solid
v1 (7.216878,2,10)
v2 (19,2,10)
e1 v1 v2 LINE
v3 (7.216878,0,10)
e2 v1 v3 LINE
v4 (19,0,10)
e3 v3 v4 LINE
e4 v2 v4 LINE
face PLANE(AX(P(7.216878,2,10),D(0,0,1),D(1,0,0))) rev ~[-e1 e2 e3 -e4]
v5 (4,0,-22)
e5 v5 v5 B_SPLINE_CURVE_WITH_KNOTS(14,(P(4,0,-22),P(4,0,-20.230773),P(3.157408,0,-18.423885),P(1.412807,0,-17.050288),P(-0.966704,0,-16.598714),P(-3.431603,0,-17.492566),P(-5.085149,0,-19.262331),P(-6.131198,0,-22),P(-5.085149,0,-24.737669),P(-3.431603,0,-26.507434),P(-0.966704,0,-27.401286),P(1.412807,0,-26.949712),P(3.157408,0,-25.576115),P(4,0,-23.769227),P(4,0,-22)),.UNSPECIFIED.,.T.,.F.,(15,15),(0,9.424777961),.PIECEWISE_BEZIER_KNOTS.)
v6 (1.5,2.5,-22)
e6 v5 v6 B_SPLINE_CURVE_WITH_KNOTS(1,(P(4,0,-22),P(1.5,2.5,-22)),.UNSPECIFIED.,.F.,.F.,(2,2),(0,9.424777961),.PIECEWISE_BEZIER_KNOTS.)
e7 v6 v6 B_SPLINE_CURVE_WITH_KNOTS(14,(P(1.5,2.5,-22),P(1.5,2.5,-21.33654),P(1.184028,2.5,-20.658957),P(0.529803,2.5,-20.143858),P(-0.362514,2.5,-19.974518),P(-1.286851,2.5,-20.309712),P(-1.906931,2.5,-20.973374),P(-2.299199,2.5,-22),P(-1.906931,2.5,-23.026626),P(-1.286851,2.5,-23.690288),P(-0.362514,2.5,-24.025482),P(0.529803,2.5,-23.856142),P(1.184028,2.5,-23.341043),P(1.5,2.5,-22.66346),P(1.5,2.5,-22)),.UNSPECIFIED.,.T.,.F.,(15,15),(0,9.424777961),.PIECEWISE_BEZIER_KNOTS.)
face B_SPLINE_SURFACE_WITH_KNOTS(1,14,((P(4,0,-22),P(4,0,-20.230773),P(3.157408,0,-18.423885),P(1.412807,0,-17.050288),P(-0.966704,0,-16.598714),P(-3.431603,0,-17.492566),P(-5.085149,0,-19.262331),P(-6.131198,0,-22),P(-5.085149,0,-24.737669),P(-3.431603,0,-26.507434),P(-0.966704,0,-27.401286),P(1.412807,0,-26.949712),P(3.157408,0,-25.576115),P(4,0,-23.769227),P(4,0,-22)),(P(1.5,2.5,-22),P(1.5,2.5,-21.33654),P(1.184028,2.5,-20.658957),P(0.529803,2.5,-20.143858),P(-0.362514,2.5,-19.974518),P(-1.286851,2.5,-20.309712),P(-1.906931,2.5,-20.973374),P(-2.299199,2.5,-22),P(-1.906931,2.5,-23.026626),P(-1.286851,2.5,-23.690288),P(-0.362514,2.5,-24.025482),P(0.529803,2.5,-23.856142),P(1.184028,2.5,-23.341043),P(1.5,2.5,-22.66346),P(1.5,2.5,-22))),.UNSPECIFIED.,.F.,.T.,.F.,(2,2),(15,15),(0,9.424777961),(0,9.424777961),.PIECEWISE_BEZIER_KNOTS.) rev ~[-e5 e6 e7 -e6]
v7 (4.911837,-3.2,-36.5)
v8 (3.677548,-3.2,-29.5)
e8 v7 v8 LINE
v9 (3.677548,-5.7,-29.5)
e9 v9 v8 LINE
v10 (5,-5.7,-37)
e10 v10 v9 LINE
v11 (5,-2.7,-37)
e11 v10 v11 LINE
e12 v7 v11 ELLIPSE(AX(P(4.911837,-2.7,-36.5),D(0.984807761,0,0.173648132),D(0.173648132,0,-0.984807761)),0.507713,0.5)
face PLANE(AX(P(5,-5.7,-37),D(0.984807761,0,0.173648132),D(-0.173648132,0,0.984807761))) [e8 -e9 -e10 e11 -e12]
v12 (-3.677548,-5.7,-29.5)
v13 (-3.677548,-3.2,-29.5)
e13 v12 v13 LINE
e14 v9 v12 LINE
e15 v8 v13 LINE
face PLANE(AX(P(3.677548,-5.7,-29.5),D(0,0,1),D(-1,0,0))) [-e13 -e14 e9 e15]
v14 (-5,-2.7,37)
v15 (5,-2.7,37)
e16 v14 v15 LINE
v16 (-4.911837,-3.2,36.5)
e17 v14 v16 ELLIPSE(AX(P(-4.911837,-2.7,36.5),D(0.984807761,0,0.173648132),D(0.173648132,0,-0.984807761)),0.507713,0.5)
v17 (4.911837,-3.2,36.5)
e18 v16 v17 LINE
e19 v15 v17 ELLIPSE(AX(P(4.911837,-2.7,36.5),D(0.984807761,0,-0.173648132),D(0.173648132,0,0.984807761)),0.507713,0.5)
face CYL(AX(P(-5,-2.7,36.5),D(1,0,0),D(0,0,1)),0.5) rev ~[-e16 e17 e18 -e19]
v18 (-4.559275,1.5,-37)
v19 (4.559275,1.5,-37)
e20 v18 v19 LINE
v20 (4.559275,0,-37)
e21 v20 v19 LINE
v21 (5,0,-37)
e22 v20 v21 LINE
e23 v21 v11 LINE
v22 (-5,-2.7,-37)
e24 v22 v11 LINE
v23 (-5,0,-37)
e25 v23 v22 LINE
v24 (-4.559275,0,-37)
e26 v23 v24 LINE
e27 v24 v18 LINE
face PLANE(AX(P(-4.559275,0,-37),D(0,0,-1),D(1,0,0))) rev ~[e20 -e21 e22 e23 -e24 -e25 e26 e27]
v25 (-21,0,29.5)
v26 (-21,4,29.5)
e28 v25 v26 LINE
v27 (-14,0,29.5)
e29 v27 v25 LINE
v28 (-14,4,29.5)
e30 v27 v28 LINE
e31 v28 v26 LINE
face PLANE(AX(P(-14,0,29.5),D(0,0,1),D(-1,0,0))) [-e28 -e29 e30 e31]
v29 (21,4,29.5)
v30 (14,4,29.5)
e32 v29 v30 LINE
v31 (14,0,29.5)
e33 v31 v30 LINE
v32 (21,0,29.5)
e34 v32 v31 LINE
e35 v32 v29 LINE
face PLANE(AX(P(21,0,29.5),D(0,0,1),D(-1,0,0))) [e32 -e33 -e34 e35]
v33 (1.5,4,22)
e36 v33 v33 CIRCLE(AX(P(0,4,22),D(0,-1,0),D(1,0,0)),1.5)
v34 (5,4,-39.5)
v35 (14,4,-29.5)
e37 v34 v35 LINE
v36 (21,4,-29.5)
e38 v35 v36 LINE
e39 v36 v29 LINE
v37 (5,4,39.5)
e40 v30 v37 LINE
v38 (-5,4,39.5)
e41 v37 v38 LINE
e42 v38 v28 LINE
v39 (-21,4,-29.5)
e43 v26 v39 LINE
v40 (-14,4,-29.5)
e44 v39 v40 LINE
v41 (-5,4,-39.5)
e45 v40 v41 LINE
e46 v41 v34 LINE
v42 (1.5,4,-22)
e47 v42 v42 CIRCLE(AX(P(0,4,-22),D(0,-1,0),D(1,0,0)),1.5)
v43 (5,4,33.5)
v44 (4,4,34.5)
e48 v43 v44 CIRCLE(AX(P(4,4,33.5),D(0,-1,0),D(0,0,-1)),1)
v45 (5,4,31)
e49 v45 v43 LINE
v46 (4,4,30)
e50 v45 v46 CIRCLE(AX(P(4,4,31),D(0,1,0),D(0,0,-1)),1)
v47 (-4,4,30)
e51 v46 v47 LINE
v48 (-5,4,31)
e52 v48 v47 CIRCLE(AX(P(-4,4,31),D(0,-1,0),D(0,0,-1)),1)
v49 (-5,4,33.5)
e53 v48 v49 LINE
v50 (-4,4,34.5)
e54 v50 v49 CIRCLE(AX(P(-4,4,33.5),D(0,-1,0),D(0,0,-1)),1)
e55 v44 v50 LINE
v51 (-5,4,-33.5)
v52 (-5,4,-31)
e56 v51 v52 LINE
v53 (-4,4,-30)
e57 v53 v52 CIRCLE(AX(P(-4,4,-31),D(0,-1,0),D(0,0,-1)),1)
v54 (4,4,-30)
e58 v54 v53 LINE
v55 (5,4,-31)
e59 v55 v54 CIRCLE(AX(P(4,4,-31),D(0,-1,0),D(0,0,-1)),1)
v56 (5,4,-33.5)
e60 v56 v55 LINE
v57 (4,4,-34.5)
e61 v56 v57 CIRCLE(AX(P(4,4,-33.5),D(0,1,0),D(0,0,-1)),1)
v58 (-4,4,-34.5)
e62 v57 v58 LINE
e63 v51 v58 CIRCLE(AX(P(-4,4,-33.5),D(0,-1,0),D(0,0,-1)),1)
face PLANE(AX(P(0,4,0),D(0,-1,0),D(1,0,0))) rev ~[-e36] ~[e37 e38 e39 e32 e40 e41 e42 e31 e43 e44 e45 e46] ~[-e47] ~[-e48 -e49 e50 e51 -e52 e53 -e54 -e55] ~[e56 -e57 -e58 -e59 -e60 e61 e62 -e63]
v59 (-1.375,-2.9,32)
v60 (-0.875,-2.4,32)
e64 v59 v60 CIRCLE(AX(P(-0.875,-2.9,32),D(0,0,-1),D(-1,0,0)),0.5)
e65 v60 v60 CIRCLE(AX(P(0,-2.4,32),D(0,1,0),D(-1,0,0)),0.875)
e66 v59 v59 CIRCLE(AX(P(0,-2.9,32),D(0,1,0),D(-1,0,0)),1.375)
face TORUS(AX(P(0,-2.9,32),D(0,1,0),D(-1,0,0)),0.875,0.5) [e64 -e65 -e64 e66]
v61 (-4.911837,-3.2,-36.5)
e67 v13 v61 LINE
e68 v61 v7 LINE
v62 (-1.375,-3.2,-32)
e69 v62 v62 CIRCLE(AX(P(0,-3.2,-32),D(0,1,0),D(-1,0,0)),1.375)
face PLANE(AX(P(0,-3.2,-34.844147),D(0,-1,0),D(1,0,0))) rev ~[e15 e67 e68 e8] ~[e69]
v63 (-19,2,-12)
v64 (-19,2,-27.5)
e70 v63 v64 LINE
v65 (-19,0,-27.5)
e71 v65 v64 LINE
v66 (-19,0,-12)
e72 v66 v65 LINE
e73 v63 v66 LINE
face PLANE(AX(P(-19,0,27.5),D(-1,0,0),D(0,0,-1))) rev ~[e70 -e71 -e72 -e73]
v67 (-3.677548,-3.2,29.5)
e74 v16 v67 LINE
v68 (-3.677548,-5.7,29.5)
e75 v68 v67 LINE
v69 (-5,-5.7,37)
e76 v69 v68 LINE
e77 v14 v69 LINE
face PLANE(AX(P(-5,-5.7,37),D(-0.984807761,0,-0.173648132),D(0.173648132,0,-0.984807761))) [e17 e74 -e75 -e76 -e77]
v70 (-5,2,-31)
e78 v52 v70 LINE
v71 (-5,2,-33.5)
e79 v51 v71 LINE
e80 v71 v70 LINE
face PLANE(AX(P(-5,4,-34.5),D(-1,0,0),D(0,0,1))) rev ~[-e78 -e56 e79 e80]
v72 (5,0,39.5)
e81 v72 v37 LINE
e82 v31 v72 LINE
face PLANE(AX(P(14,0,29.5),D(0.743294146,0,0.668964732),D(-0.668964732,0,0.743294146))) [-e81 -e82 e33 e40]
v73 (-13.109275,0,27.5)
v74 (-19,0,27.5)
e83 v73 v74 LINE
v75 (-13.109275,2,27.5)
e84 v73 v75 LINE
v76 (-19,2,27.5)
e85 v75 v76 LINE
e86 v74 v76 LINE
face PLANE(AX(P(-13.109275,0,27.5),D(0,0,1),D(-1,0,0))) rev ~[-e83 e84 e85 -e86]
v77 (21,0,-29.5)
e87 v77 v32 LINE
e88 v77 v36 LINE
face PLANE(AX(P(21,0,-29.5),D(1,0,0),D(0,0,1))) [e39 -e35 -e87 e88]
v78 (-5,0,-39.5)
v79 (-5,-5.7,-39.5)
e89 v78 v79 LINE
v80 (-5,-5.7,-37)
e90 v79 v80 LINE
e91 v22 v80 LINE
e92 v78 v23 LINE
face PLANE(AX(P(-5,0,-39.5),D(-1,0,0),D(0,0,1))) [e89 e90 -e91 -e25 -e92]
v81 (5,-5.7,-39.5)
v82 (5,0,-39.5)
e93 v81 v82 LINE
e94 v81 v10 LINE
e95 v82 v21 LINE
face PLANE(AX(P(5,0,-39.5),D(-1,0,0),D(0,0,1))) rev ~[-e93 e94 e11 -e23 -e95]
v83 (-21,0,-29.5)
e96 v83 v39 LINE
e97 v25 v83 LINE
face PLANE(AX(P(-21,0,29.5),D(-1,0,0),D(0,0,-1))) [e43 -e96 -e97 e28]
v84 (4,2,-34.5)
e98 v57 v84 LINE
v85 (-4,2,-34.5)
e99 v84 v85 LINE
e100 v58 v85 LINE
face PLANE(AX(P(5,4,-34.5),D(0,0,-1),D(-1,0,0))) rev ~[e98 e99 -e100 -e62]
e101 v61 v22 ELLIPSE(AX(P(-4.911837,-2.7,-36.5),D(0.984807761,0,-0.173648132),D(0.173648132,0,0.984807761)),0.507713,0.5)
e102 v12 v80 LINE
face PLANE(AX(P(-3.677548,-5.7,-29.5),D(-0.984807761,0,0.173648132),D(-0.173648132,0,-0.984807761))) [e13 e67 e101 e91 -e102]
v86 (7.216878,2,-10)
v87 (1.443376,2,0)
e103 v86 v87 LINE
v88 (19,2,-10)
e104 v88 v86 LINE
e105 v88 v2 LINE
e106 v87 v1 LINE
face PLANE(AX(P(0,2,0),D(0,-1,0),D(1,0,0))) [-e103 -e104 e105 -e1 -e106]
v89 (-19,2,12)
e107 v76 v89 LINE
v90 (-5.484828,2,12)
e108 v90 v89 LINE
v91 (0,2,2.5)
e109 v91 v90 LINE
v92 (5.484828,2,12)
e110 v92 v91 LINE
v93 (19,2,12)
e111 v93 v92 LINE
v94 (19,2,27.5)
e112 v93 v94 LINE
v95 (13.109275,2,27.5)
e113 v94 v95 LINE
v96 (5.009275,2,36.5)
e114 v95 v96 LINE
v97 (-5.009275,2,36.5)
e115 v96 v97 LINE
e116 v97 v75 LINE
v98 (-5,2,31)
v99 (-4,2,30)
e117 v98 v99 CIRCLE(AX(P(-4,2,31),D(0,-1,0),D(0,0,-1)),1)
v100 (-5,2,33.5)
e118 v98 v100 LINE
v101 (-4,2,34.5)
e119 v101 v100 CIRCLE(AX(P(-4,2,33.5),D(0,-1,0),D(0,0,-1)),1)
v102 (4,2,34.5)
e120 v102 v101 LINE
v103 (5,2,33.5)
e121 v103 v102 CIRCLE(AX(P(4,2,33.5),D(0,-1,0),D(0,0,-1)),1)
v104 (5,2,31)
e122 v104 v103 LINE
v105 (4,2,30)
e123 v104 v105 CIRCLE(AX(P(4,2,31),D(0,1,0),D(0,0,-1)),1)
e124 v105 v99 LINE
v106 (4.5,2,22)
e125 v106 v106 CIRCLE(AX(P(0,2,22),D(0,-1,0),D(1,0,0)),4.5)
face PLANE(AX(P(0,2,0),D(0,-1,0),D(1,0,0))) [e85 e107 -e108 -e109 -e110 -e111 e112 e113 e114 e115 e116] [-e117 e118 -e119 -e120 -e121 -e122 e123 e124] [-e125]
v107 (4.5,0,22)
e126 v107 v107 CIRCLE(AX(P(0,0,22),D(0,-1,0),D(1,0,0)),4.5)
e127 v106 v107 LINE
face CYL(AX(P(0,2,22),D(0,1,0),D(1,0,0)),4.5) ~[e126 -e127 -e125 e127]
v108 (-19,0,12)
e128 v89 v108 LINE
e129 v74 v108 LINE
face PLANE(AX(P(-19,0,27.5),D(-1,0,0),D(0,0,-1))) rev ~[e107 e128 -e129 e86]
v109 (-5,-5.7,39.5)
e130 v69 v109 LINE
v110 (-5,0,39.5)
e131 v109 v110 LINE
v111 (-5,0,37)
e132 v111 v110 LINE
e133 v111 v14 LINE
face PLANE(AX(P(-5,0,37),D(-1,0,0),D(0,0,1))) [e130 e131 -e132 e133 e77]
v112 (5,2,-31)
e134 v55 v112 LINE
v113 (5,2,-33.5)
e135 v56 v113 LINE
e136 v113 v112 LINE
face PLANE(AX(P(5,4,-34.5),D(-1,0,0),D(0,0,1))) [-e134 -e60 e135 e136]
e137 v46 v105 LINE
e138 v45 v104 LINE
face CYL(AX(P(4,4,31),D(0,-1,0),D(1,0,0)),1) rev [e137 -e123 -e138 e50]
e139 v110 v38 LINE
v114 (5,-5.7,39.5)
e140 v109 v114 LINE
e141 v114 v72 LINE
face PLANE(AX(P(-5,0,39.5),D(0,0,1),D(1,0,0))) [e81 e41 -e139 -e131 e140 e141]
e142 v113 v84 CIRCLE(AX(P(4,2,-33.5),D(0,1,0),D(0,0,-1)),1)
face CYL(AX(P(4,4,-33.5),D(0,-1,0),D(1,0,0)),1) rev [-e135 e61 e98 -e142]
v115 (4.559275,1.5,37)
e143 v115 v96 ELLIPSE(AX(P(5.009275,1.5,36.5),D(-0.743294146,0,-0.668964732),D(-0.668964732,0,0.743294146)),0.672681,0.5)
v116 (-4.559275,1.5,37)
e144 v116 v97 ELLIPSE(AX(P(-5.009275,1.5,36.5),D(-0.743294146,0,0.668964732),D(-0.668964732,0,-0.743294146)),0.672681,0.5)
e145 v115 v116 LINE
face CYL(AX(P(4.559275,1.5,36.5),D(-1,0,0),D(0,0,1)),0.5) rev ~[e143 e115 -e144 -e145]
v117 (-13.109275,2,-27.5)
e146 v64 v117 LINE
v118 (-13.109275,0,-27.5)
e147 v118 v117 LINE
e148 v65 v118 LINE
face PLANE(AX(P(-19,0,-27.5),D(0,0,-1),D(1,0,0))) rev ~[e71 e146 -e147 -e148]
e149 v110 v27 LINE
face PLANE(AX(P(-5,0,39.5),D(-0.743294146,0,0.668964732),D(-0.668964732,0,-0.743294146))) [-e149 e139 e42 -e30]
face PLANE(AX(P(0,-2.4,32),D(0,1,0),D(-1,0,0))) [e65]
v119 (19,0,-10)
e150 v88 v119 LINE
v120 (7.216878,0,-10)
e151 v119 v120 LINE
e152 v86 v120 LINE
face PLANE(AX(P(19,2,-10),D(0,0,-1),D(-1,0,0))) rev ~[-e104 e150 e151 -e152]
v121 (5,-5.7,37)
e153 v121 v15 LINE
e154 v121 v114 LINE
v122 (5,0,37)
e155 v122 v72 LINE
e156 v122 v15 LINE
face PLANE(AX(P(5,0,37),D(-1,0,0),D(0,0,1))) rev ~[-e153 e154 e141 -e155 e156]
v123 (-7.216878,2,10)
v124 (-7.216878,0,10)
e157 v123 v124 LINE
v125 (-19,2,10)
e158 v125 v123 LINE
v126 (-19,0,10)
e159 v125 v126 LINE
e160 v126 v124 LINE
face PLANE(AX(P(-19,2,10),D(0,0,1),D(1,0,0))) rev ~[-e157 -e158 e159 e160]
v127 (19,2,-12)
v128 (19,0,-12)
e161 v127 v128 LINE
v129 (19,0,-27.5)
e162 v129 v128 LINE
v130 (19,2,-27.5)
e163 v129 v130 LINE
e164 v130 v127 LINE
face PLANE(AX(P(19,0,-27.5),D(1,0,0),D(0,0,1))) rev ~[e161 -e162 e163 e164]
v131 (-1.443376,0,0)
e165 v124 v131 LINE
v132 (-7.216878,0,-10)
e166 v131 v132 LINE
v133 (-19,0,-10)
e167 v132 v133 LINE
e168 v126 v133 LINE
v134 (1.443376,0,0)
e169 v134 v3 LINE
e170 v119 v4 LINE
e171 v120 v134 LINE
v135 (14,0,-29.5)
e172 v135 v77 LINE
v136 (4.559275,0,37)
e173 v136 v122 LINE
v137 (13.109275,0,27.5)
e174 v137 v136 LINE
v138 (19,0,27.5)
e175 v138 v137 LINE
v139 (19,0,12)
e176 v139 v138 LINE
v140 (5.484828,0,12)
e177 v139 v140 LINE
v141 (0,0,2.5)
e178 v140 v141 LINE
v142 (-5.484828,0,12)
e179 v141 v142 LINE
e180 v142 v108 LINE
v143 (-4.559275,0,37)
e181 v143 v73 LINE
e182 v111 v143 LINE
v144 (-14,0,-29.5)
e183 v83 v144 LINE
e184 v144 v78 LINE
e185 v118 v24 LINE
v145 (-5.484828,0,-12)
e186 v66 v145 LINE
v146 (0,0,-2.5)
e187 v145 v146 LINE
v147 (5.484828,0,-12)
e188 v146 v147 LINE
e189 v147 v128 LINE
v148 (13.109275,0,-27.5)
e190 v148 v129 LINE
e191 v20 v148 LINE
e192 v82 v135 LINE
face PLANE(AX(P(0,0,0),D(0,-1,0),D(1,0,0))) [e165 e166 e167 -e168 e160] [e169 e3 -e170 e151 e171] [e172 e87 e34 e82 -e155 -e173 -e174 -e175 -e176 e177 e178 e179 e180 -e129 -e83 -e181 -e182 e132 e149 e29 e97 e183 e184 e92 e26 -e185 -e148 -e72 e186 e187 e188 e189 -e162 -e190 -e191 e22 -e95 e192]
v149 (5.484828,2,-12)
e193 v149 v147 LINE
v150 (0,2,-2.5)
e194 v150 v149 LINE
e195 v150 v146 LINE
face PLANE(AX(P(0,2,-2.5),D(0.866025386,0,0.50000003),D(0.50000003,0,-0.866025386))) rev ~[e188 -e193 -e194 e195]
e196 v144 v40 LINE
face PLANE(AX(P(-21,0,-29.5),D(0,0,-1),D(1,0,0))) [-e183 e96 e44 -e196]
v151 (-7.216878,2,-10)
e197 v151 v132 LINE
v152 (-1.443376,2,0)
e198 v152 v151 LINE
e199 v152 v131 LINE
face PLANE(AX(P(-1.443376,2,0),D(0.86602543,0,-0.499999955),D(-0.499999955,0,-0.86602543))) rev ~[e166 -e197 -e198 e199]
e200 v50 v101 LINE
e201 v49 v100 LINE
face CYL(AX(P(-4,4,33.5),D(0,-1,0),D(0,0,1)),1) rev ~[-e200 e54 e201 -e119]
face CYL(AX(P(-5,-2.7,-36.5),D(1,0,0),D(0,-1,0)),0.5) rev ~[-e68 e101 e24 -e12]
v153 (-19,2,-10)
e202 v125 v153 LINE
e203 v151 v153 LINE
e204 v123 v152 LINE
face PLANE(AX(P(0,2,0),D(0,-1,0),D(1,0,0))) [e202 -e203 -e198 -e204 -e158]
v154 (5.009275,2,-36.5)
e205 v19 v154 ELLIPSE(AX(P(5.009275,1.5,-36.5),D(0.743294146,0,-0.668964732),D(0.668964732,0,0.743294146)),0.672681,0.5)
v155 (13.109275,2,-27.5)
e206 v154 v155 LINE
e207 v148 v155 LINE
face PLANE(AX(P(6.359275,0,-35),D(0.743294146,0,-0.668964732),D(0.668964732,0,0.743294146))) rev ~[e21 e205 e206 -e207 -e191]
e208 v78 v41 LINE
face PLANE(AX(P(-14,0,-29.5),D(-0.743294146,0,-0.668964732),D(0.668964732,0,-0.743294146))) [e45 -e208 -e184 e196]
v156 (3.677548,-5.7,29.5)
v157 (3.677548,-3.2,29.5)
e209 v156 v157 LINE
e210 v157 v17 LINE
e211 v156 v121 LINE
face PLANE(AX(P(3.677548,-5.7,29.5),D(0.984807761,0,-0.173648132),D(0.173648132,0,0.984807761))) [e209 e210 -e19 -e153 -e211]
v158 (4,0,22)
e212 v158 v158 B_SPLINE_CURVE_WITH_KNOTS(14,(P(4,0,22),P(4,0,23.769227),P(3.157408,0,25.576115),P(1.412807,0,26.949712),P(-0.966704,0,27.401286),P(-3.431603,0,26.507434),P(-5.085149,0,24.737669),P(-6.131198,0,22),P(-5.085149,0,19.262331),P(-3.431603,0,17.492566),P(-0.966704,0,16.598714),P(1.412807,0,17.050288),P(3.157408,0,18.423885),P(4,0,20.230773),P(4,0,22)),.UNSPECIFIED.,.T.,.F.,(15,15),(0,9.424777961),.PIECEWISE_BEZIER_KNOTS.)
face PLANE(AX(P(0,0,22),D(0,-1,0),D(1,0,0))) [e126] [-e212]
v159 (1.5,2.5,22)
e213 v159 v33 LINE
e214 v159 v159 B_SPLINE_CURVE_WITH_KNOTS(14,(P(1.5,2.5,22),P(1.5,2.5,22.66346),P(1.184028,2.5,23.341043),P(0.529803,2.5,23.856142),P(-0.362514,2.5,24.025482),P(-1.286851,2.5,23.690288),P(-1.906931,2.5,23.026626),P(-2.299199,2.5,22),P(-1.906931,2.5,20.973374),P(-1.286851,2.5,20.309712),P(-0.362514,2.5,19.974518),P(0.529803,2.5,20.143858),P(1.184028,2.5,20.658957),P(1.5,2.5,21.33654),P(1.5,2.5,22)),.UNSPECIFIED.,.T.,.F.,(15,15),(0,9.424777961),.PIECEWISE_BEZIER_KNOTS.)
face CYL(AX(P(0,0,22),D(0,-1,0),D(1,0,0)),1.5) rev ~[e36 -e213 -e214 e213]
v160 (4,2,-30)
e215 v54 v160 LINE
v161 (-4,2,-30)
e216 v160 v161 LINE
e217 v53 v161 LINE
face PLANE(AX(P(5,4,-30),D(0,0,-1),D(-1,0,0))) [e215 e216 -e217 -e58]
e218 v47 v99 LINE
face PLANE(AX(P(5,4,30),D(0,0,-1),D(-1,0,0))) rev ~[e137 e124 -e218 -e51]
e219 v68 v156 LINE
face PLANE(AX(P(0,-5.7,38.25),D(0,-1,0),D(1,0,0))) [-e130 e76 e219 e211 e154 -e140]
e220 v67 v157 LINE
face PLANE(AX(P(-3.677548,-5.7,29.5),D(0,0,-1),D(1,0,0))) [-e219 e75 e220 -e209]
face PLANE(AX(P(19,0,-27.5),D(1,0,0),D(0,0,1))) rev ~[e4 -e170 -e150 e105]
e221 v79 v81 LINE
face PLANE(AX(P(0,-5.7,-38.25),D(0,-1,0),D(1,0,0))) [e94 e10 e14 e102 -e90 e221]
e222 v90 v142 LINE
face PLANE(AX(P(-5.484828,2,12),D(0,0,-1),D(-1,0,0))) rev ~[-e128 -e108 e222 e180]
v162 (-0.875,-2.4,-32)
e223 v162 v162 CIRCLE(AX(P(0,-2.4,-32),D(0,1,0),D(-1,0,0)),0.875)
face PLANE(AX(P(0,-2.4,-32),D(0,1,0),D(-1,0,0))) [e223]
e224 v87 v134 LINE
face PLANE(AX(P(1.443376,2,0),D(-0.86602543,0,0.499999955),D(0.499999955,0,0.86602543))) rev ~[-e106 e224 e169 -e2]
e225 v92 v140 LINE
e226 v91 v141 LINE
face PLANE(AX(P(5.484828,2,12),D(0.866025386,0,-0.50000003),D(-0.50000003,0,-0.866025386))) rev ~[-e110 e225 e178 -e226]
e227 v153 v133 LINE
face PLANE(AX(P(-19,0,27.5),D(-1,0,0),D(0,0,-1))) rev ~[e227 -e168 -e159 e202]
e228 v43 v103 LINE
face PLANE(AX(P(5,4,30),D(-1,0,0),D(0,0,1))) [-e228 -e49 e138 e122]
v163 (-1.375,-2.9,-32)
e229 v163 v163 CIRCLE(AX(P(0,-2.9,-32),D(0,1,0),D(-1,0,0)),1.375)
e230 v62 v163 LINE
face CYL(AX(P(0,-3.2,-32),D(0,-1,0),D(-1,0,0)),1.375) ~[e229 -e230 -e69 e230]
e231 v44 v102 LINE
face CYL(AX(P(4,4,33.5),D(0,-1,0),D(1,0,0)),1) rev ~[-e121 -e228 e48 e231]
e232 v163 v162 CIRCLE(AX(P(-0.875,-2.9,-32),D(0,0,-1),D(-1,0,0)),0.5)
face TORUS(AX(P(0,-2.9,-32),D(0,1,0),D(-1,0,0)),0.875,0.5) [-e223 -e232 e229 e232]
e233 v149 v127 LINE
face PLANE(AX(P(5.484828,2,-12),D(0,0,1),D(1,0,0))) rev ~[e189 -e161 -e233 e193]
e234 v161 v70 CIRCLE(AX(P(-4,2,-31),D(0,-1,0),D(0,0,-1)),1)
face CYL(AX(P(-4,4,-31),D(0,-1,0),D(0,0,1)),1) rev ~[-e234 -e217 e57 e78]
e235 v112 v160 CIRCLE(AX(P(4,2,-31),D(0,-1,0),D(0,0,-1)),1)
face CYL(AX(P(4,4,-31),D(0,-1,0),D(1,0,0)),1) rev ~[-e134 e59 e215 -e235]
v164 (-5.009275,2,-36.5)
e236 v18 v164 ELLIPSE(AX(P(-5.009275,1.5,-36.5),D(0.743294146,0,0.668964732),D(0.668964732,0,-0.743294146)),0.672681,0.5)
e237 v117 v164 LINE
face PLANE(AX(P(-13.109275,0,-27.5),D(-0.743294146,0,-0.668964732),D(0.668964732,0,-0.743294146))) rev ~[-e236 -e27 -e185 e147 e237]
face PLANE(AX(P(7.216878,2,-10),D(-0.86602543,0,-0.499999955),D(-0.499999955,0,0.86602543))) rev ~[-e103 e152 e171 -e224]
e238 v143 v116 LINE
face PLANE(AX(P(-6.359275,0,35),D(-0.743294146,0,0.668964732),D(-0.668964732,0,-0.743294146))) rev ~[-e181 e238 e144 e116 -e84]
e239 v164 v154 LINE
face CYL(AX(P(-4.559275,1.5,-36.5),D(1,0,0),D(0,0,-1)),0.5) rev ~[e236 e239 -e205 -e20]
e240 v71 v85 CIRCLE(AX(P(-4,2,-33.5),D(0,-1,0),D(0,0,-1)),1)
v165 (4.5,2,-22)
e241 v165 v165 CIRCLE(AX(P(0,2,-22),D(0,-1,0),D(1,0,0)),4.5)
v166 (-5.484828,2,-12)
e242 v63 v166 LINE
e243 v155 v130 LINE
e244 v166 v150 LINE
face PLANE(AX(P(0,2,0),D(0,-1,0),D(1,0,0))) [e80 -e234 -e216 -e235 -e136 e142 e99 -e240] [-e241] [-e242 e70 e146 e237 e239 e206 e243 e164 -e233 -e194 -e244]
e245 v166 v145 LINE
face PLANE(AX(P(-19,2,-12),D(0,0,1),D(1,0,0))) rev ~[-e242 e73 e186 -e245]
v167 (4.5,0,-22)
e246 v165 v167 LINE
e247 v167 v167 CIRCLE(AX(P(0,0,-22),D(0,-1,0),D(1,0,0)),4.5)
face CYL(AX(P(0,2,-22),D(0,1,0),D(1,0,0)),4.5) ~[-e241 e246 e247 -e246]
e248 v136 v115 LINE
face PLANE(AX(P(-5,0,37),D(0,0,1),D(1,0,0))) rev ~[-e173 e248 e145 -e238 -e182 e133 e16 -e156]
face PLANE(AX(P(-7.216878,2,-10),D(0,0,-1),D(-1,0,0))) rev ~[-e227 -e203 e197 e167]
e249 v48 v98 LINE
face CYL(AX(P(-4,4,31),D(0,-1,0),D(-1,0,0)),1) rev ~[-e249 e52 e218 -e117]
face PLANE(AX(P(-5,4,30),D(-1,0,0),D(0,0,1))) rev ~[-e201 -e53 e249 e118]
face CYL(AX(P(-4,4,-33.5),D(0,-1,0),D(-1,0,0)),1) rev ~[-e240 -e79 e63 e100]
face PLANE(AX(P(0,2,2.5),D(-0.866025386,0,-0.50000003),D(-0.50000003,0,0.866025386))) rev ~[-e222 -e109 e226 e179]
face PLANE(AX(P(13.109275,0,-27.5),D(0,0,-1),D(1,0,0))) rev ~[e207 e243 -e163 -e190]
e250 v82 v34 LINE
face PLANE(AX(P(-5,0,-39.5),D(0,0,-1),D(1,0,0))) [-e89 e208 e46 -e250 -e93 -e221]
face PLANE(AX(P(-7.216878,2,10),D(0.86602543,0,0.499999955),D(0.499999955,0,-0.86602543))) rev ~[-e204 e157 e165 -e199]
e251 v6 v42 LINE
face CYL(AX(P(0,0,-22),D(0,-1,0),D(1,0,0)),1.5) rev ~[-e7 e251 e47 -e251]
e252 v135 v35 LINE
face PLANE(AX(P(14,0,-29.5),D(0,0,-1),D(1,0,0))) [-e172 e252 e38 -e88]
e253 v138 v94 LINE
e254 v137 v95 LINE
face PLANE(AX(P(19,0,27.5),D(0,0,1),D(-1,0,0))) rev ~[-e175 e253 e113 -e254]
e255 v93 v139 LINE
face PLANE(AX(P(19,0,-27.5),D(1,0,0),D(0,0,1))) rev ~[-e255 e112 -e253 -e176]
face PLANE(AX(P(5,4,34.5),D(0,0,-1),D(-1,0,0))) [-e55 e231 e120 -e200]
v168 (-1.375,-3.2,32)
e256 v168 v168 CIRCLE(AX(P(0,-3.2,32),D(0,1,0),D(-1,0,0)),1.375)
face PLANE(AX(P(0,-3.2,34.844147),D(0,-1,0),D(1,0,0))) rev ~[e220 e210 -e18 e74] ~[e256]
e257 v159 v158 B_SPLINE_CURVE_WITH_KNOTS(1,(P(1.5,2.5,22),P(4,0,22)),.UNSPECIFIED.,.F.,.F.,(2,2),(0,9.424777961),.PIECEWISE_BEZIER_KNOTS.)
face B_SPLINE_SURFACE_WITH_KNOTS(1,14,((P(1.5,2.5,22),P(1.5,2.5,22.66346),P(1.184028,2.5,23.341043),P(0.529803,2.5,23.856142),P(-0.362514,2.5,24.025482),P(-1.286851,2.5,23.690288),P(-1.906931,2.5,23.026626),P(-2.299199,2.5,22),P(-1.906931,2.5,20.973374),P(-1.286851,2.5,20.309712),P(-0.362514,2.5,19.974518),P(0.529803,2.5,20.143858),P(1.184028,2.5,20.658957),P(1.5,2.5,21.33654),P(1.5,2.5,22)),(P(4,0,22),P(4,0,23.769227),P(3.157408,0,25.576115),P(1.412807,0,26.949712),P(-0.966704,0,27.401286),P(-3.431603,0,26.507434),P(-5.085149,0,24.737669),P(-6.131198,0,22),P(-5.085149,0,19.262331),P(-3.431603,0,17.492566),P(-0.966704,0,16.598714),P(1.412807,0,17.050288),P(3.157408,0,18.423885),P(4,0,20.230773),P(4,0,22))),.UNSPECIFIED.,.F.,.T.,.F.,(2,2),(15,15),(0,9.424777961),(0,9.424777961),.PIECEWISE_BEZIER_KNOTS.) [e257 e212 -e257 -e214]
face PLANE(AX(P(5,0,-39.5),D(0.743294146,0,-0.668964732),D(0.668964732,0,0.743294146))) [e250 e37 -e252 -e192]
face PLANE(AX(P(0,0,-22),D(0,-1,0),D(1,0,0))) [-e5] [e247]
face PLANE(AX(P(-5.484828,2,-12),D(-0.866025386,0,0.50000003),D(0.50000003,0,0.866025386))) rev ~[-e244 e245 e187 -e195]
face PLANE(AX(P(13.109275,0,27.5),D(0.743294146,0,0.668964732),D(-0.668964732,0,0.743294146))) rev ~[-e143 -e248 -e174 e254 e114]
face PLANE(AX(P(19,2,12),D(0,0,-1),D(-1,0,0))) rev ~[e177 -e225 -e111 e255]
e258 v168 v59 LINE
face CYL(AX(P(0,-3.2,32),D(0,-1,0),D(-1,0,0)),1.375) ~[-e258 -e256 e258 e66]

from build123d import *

# Parameters (mm, degrees)
F1_DEPTH  = 4
F2_W      = 10
F2_H      = 2.5
F3_DEPTH  = 5.7
F5_DEPTH  = 2.5
F6_R      = 1.5
F7_DEPTH  = 4
F9_DEPTH  = 2
F10_R     = 4.5
F10_R_2   = 1.5
F11_DEPTH = 2
F13_DEPTH = 2
F15_DEPTH = 2
F16_R     = 1.375
F17_DEPTH = 0.8
F18_SIZE  = 2.5
F19_W     = 10
F19_H     = 4.5
F20_DEPTH = 2
F21_R     = 1
F22_R     = 0.5
F23_R     = 0.5


with BuildPart() as f1:
    # F0 (on Front) → F1 (new body)
    with BuildSketch(Plane.XZ):
        Polygon((-14, 29.5), (-21, 29.5), (-21, -29.5), (-14, -29.5), (-5, -39.5), (5, -39.5), (14, -29.5), (21, -29.5), (21, 29.5), (14, 29.5), (5, 39.5), (-5, 39.5), align=None)
    extrude(amount=-F1_DEPTH)

    # F2 (on face) → F3 (join)
    with BuildSketch(Plane.XZ):
        with Locations((0, 38.25)):
            Rectangle(F2_W, F2_H)
        with Locations((0, -38.25)):
            Rectangle(F2_W, F2_H)
    extrude(amount=F3_DEPTH)

    # F4 (on face) → F5 (join)
    with BuildSketch(Plane.XZ.offset(5.7)):
        Polygon((5, 39.5), (-5, 39.5), (-5, 37), (-3.677548, 29.5), (3.677548, 29.5), (5, 37), align=None)
        Polygon((3.677548, -29.5), (-3.677548, -29.5), (-5, -37), (-5, -39.5), (5, -39.5), (5, -37), align=None)
    extrude(amount=-F5_DEPTH)

    # F6 (on face) → F7 (cut, through all)
    with BuildSketch(Plane.XZ):
        with Locations((0, 22)):
            Circle(F6_R)
        with Locations((0, -22)):
            Circle(F6_R)
    extrude(amount=-F7_DEPTH, mode=Mode.SUBTRACT)

    # F8 (on face) → F9 (cut)
    with BuildSketch(Plane.XZ):
        Polygon((-19, -27.5), (-13.109275, -27.5), (-6.359275, -35), (6.359275, -35), (13.109275, -27.5), (19, -27.5), (19, 27.5), (13.109275, 27.5), (6.359275, 35), (-6.359275, 35), (-13.109275, 27.5), (-19, 27.5), align=None)
    extrude(amount=-F9_DEPTH, mode=Mode.SUBTRACT)

    # F10 (on face) → F11 (join, through all)
    with BuildSketch(Plane.XZ.offset(-2)):
        with Locations((0, -22)):
            Circle(F10_R)
        with Locations((0, -22)):
            Circle(F10_R_2, mode=Mode.SUBTRACT)
        with Locations((0, 22)):
            Circle(F10_R)
        with Locations((0, 22)):
            Circle(F10_R_2, mode=Mode.SUBTRACT)
    extrude(amount=F11_DEPTH)

    # F12 (on face) → F13 (cut, through all)
    with BuildSketch(Plane.XZ):
        Polygon((-4.559275, -37), (4.559275, -37), (6.359275, -35), (5, -35), (-5, -35), (-6.359275, -35), align=None)
        Polygon((4.559275, 37), (-4.559275, 37), (-6.359275, 35), (6.359275, 35), align=None)
    extrude(amount=-F13_DEPTH, mode=Mode.SUBTRACT)

    # F14 (on face) → F15 (join, through all)
    with BuildSketch(Plane.XZ.offset(-2)):
        Polygon((5.484828, -12), (19, -12), (19, -10), (7.216878, -10), (1.443376, 0), (7.216878, 10), (19, 10), (19, 12), (5.484828, 12), (0, 2.5), (-5.484828, 12), (-19, 12), (-19, 10), (-7.216878, 10), (-1.443376, 0), (-7.216878, -10), (-19, -10), (-19, -12), (-5.484828, -12), (0, -2.5), align=None)
    extrude(amount=F15_DEPTH)

    # F16 (on face) → F17 (join)
    with BuildSketch(Plane(origin=(0, -3.2, 0), x_dir=(-1, 0, 0), z_dir=(0, 1, 0))):
        with Locations((0, -32)):
            Circle(F16_R)
        with Locations((0, 32)):
            Circle(F16_R)
    extrude(amount=F17_DEPTH)

    # F18
    f18_edges = [f1.edges().sort_by_distance(p)[0] for p in [
        (-1.5, 0, -22),
        (-1.5, 0, 22),
    ]]
    chamfer(f18_edges, length=F18_SIZE)

    # F19 (on face) → F20 (cut, through all)
    with BuildSketch(Plane(origin=(0, 4, 0), x_dir=(-1, 0, 0), z_dir=(0, 1, 0))):
        with Locations((0, 32.25)):
            Rectangle(F19_W, F19_H)
        with Locations((0, -32.25)):
            Rectangle(F19_W, F19_H)
    extrude(amount=-F20_DEPTH, mode=Mode.SUBTRACT)

    # F21
    f21_edges = [f1.edges().sort_by_distance(p)[0] for p in [
        (-5, 3, 34.5),
        (5, 3, 30),
        (5, 3, 34.5),
        (-5, 3, 30),
        (5, 3, -34.5),
        (5, 3, -30),
        (-5, 3, -30),
        (-5, 3, -34.5),
    ]]
    fillet(f21_edges, radius=F21_R)

    # F22
    f22_edges = [f1.edges().sort_by_distance(p)[0] for p in [
        (1.375, -2.4, -32),
        (1.375, -2.4, 32),
    ]]
    fillet(f22_edges, radius=F22_R)

    # F23
    f23_edges = [f1.edges().sort_by_distance(p)[0] for p in [
        (0, 2, 37),
        (0, 2, -37),
        (0, -3.2, 37),
        (0, -3.2, -37),
    ]]
    fillet(f23_edges, radius=F23_R)


solid = f1.part
